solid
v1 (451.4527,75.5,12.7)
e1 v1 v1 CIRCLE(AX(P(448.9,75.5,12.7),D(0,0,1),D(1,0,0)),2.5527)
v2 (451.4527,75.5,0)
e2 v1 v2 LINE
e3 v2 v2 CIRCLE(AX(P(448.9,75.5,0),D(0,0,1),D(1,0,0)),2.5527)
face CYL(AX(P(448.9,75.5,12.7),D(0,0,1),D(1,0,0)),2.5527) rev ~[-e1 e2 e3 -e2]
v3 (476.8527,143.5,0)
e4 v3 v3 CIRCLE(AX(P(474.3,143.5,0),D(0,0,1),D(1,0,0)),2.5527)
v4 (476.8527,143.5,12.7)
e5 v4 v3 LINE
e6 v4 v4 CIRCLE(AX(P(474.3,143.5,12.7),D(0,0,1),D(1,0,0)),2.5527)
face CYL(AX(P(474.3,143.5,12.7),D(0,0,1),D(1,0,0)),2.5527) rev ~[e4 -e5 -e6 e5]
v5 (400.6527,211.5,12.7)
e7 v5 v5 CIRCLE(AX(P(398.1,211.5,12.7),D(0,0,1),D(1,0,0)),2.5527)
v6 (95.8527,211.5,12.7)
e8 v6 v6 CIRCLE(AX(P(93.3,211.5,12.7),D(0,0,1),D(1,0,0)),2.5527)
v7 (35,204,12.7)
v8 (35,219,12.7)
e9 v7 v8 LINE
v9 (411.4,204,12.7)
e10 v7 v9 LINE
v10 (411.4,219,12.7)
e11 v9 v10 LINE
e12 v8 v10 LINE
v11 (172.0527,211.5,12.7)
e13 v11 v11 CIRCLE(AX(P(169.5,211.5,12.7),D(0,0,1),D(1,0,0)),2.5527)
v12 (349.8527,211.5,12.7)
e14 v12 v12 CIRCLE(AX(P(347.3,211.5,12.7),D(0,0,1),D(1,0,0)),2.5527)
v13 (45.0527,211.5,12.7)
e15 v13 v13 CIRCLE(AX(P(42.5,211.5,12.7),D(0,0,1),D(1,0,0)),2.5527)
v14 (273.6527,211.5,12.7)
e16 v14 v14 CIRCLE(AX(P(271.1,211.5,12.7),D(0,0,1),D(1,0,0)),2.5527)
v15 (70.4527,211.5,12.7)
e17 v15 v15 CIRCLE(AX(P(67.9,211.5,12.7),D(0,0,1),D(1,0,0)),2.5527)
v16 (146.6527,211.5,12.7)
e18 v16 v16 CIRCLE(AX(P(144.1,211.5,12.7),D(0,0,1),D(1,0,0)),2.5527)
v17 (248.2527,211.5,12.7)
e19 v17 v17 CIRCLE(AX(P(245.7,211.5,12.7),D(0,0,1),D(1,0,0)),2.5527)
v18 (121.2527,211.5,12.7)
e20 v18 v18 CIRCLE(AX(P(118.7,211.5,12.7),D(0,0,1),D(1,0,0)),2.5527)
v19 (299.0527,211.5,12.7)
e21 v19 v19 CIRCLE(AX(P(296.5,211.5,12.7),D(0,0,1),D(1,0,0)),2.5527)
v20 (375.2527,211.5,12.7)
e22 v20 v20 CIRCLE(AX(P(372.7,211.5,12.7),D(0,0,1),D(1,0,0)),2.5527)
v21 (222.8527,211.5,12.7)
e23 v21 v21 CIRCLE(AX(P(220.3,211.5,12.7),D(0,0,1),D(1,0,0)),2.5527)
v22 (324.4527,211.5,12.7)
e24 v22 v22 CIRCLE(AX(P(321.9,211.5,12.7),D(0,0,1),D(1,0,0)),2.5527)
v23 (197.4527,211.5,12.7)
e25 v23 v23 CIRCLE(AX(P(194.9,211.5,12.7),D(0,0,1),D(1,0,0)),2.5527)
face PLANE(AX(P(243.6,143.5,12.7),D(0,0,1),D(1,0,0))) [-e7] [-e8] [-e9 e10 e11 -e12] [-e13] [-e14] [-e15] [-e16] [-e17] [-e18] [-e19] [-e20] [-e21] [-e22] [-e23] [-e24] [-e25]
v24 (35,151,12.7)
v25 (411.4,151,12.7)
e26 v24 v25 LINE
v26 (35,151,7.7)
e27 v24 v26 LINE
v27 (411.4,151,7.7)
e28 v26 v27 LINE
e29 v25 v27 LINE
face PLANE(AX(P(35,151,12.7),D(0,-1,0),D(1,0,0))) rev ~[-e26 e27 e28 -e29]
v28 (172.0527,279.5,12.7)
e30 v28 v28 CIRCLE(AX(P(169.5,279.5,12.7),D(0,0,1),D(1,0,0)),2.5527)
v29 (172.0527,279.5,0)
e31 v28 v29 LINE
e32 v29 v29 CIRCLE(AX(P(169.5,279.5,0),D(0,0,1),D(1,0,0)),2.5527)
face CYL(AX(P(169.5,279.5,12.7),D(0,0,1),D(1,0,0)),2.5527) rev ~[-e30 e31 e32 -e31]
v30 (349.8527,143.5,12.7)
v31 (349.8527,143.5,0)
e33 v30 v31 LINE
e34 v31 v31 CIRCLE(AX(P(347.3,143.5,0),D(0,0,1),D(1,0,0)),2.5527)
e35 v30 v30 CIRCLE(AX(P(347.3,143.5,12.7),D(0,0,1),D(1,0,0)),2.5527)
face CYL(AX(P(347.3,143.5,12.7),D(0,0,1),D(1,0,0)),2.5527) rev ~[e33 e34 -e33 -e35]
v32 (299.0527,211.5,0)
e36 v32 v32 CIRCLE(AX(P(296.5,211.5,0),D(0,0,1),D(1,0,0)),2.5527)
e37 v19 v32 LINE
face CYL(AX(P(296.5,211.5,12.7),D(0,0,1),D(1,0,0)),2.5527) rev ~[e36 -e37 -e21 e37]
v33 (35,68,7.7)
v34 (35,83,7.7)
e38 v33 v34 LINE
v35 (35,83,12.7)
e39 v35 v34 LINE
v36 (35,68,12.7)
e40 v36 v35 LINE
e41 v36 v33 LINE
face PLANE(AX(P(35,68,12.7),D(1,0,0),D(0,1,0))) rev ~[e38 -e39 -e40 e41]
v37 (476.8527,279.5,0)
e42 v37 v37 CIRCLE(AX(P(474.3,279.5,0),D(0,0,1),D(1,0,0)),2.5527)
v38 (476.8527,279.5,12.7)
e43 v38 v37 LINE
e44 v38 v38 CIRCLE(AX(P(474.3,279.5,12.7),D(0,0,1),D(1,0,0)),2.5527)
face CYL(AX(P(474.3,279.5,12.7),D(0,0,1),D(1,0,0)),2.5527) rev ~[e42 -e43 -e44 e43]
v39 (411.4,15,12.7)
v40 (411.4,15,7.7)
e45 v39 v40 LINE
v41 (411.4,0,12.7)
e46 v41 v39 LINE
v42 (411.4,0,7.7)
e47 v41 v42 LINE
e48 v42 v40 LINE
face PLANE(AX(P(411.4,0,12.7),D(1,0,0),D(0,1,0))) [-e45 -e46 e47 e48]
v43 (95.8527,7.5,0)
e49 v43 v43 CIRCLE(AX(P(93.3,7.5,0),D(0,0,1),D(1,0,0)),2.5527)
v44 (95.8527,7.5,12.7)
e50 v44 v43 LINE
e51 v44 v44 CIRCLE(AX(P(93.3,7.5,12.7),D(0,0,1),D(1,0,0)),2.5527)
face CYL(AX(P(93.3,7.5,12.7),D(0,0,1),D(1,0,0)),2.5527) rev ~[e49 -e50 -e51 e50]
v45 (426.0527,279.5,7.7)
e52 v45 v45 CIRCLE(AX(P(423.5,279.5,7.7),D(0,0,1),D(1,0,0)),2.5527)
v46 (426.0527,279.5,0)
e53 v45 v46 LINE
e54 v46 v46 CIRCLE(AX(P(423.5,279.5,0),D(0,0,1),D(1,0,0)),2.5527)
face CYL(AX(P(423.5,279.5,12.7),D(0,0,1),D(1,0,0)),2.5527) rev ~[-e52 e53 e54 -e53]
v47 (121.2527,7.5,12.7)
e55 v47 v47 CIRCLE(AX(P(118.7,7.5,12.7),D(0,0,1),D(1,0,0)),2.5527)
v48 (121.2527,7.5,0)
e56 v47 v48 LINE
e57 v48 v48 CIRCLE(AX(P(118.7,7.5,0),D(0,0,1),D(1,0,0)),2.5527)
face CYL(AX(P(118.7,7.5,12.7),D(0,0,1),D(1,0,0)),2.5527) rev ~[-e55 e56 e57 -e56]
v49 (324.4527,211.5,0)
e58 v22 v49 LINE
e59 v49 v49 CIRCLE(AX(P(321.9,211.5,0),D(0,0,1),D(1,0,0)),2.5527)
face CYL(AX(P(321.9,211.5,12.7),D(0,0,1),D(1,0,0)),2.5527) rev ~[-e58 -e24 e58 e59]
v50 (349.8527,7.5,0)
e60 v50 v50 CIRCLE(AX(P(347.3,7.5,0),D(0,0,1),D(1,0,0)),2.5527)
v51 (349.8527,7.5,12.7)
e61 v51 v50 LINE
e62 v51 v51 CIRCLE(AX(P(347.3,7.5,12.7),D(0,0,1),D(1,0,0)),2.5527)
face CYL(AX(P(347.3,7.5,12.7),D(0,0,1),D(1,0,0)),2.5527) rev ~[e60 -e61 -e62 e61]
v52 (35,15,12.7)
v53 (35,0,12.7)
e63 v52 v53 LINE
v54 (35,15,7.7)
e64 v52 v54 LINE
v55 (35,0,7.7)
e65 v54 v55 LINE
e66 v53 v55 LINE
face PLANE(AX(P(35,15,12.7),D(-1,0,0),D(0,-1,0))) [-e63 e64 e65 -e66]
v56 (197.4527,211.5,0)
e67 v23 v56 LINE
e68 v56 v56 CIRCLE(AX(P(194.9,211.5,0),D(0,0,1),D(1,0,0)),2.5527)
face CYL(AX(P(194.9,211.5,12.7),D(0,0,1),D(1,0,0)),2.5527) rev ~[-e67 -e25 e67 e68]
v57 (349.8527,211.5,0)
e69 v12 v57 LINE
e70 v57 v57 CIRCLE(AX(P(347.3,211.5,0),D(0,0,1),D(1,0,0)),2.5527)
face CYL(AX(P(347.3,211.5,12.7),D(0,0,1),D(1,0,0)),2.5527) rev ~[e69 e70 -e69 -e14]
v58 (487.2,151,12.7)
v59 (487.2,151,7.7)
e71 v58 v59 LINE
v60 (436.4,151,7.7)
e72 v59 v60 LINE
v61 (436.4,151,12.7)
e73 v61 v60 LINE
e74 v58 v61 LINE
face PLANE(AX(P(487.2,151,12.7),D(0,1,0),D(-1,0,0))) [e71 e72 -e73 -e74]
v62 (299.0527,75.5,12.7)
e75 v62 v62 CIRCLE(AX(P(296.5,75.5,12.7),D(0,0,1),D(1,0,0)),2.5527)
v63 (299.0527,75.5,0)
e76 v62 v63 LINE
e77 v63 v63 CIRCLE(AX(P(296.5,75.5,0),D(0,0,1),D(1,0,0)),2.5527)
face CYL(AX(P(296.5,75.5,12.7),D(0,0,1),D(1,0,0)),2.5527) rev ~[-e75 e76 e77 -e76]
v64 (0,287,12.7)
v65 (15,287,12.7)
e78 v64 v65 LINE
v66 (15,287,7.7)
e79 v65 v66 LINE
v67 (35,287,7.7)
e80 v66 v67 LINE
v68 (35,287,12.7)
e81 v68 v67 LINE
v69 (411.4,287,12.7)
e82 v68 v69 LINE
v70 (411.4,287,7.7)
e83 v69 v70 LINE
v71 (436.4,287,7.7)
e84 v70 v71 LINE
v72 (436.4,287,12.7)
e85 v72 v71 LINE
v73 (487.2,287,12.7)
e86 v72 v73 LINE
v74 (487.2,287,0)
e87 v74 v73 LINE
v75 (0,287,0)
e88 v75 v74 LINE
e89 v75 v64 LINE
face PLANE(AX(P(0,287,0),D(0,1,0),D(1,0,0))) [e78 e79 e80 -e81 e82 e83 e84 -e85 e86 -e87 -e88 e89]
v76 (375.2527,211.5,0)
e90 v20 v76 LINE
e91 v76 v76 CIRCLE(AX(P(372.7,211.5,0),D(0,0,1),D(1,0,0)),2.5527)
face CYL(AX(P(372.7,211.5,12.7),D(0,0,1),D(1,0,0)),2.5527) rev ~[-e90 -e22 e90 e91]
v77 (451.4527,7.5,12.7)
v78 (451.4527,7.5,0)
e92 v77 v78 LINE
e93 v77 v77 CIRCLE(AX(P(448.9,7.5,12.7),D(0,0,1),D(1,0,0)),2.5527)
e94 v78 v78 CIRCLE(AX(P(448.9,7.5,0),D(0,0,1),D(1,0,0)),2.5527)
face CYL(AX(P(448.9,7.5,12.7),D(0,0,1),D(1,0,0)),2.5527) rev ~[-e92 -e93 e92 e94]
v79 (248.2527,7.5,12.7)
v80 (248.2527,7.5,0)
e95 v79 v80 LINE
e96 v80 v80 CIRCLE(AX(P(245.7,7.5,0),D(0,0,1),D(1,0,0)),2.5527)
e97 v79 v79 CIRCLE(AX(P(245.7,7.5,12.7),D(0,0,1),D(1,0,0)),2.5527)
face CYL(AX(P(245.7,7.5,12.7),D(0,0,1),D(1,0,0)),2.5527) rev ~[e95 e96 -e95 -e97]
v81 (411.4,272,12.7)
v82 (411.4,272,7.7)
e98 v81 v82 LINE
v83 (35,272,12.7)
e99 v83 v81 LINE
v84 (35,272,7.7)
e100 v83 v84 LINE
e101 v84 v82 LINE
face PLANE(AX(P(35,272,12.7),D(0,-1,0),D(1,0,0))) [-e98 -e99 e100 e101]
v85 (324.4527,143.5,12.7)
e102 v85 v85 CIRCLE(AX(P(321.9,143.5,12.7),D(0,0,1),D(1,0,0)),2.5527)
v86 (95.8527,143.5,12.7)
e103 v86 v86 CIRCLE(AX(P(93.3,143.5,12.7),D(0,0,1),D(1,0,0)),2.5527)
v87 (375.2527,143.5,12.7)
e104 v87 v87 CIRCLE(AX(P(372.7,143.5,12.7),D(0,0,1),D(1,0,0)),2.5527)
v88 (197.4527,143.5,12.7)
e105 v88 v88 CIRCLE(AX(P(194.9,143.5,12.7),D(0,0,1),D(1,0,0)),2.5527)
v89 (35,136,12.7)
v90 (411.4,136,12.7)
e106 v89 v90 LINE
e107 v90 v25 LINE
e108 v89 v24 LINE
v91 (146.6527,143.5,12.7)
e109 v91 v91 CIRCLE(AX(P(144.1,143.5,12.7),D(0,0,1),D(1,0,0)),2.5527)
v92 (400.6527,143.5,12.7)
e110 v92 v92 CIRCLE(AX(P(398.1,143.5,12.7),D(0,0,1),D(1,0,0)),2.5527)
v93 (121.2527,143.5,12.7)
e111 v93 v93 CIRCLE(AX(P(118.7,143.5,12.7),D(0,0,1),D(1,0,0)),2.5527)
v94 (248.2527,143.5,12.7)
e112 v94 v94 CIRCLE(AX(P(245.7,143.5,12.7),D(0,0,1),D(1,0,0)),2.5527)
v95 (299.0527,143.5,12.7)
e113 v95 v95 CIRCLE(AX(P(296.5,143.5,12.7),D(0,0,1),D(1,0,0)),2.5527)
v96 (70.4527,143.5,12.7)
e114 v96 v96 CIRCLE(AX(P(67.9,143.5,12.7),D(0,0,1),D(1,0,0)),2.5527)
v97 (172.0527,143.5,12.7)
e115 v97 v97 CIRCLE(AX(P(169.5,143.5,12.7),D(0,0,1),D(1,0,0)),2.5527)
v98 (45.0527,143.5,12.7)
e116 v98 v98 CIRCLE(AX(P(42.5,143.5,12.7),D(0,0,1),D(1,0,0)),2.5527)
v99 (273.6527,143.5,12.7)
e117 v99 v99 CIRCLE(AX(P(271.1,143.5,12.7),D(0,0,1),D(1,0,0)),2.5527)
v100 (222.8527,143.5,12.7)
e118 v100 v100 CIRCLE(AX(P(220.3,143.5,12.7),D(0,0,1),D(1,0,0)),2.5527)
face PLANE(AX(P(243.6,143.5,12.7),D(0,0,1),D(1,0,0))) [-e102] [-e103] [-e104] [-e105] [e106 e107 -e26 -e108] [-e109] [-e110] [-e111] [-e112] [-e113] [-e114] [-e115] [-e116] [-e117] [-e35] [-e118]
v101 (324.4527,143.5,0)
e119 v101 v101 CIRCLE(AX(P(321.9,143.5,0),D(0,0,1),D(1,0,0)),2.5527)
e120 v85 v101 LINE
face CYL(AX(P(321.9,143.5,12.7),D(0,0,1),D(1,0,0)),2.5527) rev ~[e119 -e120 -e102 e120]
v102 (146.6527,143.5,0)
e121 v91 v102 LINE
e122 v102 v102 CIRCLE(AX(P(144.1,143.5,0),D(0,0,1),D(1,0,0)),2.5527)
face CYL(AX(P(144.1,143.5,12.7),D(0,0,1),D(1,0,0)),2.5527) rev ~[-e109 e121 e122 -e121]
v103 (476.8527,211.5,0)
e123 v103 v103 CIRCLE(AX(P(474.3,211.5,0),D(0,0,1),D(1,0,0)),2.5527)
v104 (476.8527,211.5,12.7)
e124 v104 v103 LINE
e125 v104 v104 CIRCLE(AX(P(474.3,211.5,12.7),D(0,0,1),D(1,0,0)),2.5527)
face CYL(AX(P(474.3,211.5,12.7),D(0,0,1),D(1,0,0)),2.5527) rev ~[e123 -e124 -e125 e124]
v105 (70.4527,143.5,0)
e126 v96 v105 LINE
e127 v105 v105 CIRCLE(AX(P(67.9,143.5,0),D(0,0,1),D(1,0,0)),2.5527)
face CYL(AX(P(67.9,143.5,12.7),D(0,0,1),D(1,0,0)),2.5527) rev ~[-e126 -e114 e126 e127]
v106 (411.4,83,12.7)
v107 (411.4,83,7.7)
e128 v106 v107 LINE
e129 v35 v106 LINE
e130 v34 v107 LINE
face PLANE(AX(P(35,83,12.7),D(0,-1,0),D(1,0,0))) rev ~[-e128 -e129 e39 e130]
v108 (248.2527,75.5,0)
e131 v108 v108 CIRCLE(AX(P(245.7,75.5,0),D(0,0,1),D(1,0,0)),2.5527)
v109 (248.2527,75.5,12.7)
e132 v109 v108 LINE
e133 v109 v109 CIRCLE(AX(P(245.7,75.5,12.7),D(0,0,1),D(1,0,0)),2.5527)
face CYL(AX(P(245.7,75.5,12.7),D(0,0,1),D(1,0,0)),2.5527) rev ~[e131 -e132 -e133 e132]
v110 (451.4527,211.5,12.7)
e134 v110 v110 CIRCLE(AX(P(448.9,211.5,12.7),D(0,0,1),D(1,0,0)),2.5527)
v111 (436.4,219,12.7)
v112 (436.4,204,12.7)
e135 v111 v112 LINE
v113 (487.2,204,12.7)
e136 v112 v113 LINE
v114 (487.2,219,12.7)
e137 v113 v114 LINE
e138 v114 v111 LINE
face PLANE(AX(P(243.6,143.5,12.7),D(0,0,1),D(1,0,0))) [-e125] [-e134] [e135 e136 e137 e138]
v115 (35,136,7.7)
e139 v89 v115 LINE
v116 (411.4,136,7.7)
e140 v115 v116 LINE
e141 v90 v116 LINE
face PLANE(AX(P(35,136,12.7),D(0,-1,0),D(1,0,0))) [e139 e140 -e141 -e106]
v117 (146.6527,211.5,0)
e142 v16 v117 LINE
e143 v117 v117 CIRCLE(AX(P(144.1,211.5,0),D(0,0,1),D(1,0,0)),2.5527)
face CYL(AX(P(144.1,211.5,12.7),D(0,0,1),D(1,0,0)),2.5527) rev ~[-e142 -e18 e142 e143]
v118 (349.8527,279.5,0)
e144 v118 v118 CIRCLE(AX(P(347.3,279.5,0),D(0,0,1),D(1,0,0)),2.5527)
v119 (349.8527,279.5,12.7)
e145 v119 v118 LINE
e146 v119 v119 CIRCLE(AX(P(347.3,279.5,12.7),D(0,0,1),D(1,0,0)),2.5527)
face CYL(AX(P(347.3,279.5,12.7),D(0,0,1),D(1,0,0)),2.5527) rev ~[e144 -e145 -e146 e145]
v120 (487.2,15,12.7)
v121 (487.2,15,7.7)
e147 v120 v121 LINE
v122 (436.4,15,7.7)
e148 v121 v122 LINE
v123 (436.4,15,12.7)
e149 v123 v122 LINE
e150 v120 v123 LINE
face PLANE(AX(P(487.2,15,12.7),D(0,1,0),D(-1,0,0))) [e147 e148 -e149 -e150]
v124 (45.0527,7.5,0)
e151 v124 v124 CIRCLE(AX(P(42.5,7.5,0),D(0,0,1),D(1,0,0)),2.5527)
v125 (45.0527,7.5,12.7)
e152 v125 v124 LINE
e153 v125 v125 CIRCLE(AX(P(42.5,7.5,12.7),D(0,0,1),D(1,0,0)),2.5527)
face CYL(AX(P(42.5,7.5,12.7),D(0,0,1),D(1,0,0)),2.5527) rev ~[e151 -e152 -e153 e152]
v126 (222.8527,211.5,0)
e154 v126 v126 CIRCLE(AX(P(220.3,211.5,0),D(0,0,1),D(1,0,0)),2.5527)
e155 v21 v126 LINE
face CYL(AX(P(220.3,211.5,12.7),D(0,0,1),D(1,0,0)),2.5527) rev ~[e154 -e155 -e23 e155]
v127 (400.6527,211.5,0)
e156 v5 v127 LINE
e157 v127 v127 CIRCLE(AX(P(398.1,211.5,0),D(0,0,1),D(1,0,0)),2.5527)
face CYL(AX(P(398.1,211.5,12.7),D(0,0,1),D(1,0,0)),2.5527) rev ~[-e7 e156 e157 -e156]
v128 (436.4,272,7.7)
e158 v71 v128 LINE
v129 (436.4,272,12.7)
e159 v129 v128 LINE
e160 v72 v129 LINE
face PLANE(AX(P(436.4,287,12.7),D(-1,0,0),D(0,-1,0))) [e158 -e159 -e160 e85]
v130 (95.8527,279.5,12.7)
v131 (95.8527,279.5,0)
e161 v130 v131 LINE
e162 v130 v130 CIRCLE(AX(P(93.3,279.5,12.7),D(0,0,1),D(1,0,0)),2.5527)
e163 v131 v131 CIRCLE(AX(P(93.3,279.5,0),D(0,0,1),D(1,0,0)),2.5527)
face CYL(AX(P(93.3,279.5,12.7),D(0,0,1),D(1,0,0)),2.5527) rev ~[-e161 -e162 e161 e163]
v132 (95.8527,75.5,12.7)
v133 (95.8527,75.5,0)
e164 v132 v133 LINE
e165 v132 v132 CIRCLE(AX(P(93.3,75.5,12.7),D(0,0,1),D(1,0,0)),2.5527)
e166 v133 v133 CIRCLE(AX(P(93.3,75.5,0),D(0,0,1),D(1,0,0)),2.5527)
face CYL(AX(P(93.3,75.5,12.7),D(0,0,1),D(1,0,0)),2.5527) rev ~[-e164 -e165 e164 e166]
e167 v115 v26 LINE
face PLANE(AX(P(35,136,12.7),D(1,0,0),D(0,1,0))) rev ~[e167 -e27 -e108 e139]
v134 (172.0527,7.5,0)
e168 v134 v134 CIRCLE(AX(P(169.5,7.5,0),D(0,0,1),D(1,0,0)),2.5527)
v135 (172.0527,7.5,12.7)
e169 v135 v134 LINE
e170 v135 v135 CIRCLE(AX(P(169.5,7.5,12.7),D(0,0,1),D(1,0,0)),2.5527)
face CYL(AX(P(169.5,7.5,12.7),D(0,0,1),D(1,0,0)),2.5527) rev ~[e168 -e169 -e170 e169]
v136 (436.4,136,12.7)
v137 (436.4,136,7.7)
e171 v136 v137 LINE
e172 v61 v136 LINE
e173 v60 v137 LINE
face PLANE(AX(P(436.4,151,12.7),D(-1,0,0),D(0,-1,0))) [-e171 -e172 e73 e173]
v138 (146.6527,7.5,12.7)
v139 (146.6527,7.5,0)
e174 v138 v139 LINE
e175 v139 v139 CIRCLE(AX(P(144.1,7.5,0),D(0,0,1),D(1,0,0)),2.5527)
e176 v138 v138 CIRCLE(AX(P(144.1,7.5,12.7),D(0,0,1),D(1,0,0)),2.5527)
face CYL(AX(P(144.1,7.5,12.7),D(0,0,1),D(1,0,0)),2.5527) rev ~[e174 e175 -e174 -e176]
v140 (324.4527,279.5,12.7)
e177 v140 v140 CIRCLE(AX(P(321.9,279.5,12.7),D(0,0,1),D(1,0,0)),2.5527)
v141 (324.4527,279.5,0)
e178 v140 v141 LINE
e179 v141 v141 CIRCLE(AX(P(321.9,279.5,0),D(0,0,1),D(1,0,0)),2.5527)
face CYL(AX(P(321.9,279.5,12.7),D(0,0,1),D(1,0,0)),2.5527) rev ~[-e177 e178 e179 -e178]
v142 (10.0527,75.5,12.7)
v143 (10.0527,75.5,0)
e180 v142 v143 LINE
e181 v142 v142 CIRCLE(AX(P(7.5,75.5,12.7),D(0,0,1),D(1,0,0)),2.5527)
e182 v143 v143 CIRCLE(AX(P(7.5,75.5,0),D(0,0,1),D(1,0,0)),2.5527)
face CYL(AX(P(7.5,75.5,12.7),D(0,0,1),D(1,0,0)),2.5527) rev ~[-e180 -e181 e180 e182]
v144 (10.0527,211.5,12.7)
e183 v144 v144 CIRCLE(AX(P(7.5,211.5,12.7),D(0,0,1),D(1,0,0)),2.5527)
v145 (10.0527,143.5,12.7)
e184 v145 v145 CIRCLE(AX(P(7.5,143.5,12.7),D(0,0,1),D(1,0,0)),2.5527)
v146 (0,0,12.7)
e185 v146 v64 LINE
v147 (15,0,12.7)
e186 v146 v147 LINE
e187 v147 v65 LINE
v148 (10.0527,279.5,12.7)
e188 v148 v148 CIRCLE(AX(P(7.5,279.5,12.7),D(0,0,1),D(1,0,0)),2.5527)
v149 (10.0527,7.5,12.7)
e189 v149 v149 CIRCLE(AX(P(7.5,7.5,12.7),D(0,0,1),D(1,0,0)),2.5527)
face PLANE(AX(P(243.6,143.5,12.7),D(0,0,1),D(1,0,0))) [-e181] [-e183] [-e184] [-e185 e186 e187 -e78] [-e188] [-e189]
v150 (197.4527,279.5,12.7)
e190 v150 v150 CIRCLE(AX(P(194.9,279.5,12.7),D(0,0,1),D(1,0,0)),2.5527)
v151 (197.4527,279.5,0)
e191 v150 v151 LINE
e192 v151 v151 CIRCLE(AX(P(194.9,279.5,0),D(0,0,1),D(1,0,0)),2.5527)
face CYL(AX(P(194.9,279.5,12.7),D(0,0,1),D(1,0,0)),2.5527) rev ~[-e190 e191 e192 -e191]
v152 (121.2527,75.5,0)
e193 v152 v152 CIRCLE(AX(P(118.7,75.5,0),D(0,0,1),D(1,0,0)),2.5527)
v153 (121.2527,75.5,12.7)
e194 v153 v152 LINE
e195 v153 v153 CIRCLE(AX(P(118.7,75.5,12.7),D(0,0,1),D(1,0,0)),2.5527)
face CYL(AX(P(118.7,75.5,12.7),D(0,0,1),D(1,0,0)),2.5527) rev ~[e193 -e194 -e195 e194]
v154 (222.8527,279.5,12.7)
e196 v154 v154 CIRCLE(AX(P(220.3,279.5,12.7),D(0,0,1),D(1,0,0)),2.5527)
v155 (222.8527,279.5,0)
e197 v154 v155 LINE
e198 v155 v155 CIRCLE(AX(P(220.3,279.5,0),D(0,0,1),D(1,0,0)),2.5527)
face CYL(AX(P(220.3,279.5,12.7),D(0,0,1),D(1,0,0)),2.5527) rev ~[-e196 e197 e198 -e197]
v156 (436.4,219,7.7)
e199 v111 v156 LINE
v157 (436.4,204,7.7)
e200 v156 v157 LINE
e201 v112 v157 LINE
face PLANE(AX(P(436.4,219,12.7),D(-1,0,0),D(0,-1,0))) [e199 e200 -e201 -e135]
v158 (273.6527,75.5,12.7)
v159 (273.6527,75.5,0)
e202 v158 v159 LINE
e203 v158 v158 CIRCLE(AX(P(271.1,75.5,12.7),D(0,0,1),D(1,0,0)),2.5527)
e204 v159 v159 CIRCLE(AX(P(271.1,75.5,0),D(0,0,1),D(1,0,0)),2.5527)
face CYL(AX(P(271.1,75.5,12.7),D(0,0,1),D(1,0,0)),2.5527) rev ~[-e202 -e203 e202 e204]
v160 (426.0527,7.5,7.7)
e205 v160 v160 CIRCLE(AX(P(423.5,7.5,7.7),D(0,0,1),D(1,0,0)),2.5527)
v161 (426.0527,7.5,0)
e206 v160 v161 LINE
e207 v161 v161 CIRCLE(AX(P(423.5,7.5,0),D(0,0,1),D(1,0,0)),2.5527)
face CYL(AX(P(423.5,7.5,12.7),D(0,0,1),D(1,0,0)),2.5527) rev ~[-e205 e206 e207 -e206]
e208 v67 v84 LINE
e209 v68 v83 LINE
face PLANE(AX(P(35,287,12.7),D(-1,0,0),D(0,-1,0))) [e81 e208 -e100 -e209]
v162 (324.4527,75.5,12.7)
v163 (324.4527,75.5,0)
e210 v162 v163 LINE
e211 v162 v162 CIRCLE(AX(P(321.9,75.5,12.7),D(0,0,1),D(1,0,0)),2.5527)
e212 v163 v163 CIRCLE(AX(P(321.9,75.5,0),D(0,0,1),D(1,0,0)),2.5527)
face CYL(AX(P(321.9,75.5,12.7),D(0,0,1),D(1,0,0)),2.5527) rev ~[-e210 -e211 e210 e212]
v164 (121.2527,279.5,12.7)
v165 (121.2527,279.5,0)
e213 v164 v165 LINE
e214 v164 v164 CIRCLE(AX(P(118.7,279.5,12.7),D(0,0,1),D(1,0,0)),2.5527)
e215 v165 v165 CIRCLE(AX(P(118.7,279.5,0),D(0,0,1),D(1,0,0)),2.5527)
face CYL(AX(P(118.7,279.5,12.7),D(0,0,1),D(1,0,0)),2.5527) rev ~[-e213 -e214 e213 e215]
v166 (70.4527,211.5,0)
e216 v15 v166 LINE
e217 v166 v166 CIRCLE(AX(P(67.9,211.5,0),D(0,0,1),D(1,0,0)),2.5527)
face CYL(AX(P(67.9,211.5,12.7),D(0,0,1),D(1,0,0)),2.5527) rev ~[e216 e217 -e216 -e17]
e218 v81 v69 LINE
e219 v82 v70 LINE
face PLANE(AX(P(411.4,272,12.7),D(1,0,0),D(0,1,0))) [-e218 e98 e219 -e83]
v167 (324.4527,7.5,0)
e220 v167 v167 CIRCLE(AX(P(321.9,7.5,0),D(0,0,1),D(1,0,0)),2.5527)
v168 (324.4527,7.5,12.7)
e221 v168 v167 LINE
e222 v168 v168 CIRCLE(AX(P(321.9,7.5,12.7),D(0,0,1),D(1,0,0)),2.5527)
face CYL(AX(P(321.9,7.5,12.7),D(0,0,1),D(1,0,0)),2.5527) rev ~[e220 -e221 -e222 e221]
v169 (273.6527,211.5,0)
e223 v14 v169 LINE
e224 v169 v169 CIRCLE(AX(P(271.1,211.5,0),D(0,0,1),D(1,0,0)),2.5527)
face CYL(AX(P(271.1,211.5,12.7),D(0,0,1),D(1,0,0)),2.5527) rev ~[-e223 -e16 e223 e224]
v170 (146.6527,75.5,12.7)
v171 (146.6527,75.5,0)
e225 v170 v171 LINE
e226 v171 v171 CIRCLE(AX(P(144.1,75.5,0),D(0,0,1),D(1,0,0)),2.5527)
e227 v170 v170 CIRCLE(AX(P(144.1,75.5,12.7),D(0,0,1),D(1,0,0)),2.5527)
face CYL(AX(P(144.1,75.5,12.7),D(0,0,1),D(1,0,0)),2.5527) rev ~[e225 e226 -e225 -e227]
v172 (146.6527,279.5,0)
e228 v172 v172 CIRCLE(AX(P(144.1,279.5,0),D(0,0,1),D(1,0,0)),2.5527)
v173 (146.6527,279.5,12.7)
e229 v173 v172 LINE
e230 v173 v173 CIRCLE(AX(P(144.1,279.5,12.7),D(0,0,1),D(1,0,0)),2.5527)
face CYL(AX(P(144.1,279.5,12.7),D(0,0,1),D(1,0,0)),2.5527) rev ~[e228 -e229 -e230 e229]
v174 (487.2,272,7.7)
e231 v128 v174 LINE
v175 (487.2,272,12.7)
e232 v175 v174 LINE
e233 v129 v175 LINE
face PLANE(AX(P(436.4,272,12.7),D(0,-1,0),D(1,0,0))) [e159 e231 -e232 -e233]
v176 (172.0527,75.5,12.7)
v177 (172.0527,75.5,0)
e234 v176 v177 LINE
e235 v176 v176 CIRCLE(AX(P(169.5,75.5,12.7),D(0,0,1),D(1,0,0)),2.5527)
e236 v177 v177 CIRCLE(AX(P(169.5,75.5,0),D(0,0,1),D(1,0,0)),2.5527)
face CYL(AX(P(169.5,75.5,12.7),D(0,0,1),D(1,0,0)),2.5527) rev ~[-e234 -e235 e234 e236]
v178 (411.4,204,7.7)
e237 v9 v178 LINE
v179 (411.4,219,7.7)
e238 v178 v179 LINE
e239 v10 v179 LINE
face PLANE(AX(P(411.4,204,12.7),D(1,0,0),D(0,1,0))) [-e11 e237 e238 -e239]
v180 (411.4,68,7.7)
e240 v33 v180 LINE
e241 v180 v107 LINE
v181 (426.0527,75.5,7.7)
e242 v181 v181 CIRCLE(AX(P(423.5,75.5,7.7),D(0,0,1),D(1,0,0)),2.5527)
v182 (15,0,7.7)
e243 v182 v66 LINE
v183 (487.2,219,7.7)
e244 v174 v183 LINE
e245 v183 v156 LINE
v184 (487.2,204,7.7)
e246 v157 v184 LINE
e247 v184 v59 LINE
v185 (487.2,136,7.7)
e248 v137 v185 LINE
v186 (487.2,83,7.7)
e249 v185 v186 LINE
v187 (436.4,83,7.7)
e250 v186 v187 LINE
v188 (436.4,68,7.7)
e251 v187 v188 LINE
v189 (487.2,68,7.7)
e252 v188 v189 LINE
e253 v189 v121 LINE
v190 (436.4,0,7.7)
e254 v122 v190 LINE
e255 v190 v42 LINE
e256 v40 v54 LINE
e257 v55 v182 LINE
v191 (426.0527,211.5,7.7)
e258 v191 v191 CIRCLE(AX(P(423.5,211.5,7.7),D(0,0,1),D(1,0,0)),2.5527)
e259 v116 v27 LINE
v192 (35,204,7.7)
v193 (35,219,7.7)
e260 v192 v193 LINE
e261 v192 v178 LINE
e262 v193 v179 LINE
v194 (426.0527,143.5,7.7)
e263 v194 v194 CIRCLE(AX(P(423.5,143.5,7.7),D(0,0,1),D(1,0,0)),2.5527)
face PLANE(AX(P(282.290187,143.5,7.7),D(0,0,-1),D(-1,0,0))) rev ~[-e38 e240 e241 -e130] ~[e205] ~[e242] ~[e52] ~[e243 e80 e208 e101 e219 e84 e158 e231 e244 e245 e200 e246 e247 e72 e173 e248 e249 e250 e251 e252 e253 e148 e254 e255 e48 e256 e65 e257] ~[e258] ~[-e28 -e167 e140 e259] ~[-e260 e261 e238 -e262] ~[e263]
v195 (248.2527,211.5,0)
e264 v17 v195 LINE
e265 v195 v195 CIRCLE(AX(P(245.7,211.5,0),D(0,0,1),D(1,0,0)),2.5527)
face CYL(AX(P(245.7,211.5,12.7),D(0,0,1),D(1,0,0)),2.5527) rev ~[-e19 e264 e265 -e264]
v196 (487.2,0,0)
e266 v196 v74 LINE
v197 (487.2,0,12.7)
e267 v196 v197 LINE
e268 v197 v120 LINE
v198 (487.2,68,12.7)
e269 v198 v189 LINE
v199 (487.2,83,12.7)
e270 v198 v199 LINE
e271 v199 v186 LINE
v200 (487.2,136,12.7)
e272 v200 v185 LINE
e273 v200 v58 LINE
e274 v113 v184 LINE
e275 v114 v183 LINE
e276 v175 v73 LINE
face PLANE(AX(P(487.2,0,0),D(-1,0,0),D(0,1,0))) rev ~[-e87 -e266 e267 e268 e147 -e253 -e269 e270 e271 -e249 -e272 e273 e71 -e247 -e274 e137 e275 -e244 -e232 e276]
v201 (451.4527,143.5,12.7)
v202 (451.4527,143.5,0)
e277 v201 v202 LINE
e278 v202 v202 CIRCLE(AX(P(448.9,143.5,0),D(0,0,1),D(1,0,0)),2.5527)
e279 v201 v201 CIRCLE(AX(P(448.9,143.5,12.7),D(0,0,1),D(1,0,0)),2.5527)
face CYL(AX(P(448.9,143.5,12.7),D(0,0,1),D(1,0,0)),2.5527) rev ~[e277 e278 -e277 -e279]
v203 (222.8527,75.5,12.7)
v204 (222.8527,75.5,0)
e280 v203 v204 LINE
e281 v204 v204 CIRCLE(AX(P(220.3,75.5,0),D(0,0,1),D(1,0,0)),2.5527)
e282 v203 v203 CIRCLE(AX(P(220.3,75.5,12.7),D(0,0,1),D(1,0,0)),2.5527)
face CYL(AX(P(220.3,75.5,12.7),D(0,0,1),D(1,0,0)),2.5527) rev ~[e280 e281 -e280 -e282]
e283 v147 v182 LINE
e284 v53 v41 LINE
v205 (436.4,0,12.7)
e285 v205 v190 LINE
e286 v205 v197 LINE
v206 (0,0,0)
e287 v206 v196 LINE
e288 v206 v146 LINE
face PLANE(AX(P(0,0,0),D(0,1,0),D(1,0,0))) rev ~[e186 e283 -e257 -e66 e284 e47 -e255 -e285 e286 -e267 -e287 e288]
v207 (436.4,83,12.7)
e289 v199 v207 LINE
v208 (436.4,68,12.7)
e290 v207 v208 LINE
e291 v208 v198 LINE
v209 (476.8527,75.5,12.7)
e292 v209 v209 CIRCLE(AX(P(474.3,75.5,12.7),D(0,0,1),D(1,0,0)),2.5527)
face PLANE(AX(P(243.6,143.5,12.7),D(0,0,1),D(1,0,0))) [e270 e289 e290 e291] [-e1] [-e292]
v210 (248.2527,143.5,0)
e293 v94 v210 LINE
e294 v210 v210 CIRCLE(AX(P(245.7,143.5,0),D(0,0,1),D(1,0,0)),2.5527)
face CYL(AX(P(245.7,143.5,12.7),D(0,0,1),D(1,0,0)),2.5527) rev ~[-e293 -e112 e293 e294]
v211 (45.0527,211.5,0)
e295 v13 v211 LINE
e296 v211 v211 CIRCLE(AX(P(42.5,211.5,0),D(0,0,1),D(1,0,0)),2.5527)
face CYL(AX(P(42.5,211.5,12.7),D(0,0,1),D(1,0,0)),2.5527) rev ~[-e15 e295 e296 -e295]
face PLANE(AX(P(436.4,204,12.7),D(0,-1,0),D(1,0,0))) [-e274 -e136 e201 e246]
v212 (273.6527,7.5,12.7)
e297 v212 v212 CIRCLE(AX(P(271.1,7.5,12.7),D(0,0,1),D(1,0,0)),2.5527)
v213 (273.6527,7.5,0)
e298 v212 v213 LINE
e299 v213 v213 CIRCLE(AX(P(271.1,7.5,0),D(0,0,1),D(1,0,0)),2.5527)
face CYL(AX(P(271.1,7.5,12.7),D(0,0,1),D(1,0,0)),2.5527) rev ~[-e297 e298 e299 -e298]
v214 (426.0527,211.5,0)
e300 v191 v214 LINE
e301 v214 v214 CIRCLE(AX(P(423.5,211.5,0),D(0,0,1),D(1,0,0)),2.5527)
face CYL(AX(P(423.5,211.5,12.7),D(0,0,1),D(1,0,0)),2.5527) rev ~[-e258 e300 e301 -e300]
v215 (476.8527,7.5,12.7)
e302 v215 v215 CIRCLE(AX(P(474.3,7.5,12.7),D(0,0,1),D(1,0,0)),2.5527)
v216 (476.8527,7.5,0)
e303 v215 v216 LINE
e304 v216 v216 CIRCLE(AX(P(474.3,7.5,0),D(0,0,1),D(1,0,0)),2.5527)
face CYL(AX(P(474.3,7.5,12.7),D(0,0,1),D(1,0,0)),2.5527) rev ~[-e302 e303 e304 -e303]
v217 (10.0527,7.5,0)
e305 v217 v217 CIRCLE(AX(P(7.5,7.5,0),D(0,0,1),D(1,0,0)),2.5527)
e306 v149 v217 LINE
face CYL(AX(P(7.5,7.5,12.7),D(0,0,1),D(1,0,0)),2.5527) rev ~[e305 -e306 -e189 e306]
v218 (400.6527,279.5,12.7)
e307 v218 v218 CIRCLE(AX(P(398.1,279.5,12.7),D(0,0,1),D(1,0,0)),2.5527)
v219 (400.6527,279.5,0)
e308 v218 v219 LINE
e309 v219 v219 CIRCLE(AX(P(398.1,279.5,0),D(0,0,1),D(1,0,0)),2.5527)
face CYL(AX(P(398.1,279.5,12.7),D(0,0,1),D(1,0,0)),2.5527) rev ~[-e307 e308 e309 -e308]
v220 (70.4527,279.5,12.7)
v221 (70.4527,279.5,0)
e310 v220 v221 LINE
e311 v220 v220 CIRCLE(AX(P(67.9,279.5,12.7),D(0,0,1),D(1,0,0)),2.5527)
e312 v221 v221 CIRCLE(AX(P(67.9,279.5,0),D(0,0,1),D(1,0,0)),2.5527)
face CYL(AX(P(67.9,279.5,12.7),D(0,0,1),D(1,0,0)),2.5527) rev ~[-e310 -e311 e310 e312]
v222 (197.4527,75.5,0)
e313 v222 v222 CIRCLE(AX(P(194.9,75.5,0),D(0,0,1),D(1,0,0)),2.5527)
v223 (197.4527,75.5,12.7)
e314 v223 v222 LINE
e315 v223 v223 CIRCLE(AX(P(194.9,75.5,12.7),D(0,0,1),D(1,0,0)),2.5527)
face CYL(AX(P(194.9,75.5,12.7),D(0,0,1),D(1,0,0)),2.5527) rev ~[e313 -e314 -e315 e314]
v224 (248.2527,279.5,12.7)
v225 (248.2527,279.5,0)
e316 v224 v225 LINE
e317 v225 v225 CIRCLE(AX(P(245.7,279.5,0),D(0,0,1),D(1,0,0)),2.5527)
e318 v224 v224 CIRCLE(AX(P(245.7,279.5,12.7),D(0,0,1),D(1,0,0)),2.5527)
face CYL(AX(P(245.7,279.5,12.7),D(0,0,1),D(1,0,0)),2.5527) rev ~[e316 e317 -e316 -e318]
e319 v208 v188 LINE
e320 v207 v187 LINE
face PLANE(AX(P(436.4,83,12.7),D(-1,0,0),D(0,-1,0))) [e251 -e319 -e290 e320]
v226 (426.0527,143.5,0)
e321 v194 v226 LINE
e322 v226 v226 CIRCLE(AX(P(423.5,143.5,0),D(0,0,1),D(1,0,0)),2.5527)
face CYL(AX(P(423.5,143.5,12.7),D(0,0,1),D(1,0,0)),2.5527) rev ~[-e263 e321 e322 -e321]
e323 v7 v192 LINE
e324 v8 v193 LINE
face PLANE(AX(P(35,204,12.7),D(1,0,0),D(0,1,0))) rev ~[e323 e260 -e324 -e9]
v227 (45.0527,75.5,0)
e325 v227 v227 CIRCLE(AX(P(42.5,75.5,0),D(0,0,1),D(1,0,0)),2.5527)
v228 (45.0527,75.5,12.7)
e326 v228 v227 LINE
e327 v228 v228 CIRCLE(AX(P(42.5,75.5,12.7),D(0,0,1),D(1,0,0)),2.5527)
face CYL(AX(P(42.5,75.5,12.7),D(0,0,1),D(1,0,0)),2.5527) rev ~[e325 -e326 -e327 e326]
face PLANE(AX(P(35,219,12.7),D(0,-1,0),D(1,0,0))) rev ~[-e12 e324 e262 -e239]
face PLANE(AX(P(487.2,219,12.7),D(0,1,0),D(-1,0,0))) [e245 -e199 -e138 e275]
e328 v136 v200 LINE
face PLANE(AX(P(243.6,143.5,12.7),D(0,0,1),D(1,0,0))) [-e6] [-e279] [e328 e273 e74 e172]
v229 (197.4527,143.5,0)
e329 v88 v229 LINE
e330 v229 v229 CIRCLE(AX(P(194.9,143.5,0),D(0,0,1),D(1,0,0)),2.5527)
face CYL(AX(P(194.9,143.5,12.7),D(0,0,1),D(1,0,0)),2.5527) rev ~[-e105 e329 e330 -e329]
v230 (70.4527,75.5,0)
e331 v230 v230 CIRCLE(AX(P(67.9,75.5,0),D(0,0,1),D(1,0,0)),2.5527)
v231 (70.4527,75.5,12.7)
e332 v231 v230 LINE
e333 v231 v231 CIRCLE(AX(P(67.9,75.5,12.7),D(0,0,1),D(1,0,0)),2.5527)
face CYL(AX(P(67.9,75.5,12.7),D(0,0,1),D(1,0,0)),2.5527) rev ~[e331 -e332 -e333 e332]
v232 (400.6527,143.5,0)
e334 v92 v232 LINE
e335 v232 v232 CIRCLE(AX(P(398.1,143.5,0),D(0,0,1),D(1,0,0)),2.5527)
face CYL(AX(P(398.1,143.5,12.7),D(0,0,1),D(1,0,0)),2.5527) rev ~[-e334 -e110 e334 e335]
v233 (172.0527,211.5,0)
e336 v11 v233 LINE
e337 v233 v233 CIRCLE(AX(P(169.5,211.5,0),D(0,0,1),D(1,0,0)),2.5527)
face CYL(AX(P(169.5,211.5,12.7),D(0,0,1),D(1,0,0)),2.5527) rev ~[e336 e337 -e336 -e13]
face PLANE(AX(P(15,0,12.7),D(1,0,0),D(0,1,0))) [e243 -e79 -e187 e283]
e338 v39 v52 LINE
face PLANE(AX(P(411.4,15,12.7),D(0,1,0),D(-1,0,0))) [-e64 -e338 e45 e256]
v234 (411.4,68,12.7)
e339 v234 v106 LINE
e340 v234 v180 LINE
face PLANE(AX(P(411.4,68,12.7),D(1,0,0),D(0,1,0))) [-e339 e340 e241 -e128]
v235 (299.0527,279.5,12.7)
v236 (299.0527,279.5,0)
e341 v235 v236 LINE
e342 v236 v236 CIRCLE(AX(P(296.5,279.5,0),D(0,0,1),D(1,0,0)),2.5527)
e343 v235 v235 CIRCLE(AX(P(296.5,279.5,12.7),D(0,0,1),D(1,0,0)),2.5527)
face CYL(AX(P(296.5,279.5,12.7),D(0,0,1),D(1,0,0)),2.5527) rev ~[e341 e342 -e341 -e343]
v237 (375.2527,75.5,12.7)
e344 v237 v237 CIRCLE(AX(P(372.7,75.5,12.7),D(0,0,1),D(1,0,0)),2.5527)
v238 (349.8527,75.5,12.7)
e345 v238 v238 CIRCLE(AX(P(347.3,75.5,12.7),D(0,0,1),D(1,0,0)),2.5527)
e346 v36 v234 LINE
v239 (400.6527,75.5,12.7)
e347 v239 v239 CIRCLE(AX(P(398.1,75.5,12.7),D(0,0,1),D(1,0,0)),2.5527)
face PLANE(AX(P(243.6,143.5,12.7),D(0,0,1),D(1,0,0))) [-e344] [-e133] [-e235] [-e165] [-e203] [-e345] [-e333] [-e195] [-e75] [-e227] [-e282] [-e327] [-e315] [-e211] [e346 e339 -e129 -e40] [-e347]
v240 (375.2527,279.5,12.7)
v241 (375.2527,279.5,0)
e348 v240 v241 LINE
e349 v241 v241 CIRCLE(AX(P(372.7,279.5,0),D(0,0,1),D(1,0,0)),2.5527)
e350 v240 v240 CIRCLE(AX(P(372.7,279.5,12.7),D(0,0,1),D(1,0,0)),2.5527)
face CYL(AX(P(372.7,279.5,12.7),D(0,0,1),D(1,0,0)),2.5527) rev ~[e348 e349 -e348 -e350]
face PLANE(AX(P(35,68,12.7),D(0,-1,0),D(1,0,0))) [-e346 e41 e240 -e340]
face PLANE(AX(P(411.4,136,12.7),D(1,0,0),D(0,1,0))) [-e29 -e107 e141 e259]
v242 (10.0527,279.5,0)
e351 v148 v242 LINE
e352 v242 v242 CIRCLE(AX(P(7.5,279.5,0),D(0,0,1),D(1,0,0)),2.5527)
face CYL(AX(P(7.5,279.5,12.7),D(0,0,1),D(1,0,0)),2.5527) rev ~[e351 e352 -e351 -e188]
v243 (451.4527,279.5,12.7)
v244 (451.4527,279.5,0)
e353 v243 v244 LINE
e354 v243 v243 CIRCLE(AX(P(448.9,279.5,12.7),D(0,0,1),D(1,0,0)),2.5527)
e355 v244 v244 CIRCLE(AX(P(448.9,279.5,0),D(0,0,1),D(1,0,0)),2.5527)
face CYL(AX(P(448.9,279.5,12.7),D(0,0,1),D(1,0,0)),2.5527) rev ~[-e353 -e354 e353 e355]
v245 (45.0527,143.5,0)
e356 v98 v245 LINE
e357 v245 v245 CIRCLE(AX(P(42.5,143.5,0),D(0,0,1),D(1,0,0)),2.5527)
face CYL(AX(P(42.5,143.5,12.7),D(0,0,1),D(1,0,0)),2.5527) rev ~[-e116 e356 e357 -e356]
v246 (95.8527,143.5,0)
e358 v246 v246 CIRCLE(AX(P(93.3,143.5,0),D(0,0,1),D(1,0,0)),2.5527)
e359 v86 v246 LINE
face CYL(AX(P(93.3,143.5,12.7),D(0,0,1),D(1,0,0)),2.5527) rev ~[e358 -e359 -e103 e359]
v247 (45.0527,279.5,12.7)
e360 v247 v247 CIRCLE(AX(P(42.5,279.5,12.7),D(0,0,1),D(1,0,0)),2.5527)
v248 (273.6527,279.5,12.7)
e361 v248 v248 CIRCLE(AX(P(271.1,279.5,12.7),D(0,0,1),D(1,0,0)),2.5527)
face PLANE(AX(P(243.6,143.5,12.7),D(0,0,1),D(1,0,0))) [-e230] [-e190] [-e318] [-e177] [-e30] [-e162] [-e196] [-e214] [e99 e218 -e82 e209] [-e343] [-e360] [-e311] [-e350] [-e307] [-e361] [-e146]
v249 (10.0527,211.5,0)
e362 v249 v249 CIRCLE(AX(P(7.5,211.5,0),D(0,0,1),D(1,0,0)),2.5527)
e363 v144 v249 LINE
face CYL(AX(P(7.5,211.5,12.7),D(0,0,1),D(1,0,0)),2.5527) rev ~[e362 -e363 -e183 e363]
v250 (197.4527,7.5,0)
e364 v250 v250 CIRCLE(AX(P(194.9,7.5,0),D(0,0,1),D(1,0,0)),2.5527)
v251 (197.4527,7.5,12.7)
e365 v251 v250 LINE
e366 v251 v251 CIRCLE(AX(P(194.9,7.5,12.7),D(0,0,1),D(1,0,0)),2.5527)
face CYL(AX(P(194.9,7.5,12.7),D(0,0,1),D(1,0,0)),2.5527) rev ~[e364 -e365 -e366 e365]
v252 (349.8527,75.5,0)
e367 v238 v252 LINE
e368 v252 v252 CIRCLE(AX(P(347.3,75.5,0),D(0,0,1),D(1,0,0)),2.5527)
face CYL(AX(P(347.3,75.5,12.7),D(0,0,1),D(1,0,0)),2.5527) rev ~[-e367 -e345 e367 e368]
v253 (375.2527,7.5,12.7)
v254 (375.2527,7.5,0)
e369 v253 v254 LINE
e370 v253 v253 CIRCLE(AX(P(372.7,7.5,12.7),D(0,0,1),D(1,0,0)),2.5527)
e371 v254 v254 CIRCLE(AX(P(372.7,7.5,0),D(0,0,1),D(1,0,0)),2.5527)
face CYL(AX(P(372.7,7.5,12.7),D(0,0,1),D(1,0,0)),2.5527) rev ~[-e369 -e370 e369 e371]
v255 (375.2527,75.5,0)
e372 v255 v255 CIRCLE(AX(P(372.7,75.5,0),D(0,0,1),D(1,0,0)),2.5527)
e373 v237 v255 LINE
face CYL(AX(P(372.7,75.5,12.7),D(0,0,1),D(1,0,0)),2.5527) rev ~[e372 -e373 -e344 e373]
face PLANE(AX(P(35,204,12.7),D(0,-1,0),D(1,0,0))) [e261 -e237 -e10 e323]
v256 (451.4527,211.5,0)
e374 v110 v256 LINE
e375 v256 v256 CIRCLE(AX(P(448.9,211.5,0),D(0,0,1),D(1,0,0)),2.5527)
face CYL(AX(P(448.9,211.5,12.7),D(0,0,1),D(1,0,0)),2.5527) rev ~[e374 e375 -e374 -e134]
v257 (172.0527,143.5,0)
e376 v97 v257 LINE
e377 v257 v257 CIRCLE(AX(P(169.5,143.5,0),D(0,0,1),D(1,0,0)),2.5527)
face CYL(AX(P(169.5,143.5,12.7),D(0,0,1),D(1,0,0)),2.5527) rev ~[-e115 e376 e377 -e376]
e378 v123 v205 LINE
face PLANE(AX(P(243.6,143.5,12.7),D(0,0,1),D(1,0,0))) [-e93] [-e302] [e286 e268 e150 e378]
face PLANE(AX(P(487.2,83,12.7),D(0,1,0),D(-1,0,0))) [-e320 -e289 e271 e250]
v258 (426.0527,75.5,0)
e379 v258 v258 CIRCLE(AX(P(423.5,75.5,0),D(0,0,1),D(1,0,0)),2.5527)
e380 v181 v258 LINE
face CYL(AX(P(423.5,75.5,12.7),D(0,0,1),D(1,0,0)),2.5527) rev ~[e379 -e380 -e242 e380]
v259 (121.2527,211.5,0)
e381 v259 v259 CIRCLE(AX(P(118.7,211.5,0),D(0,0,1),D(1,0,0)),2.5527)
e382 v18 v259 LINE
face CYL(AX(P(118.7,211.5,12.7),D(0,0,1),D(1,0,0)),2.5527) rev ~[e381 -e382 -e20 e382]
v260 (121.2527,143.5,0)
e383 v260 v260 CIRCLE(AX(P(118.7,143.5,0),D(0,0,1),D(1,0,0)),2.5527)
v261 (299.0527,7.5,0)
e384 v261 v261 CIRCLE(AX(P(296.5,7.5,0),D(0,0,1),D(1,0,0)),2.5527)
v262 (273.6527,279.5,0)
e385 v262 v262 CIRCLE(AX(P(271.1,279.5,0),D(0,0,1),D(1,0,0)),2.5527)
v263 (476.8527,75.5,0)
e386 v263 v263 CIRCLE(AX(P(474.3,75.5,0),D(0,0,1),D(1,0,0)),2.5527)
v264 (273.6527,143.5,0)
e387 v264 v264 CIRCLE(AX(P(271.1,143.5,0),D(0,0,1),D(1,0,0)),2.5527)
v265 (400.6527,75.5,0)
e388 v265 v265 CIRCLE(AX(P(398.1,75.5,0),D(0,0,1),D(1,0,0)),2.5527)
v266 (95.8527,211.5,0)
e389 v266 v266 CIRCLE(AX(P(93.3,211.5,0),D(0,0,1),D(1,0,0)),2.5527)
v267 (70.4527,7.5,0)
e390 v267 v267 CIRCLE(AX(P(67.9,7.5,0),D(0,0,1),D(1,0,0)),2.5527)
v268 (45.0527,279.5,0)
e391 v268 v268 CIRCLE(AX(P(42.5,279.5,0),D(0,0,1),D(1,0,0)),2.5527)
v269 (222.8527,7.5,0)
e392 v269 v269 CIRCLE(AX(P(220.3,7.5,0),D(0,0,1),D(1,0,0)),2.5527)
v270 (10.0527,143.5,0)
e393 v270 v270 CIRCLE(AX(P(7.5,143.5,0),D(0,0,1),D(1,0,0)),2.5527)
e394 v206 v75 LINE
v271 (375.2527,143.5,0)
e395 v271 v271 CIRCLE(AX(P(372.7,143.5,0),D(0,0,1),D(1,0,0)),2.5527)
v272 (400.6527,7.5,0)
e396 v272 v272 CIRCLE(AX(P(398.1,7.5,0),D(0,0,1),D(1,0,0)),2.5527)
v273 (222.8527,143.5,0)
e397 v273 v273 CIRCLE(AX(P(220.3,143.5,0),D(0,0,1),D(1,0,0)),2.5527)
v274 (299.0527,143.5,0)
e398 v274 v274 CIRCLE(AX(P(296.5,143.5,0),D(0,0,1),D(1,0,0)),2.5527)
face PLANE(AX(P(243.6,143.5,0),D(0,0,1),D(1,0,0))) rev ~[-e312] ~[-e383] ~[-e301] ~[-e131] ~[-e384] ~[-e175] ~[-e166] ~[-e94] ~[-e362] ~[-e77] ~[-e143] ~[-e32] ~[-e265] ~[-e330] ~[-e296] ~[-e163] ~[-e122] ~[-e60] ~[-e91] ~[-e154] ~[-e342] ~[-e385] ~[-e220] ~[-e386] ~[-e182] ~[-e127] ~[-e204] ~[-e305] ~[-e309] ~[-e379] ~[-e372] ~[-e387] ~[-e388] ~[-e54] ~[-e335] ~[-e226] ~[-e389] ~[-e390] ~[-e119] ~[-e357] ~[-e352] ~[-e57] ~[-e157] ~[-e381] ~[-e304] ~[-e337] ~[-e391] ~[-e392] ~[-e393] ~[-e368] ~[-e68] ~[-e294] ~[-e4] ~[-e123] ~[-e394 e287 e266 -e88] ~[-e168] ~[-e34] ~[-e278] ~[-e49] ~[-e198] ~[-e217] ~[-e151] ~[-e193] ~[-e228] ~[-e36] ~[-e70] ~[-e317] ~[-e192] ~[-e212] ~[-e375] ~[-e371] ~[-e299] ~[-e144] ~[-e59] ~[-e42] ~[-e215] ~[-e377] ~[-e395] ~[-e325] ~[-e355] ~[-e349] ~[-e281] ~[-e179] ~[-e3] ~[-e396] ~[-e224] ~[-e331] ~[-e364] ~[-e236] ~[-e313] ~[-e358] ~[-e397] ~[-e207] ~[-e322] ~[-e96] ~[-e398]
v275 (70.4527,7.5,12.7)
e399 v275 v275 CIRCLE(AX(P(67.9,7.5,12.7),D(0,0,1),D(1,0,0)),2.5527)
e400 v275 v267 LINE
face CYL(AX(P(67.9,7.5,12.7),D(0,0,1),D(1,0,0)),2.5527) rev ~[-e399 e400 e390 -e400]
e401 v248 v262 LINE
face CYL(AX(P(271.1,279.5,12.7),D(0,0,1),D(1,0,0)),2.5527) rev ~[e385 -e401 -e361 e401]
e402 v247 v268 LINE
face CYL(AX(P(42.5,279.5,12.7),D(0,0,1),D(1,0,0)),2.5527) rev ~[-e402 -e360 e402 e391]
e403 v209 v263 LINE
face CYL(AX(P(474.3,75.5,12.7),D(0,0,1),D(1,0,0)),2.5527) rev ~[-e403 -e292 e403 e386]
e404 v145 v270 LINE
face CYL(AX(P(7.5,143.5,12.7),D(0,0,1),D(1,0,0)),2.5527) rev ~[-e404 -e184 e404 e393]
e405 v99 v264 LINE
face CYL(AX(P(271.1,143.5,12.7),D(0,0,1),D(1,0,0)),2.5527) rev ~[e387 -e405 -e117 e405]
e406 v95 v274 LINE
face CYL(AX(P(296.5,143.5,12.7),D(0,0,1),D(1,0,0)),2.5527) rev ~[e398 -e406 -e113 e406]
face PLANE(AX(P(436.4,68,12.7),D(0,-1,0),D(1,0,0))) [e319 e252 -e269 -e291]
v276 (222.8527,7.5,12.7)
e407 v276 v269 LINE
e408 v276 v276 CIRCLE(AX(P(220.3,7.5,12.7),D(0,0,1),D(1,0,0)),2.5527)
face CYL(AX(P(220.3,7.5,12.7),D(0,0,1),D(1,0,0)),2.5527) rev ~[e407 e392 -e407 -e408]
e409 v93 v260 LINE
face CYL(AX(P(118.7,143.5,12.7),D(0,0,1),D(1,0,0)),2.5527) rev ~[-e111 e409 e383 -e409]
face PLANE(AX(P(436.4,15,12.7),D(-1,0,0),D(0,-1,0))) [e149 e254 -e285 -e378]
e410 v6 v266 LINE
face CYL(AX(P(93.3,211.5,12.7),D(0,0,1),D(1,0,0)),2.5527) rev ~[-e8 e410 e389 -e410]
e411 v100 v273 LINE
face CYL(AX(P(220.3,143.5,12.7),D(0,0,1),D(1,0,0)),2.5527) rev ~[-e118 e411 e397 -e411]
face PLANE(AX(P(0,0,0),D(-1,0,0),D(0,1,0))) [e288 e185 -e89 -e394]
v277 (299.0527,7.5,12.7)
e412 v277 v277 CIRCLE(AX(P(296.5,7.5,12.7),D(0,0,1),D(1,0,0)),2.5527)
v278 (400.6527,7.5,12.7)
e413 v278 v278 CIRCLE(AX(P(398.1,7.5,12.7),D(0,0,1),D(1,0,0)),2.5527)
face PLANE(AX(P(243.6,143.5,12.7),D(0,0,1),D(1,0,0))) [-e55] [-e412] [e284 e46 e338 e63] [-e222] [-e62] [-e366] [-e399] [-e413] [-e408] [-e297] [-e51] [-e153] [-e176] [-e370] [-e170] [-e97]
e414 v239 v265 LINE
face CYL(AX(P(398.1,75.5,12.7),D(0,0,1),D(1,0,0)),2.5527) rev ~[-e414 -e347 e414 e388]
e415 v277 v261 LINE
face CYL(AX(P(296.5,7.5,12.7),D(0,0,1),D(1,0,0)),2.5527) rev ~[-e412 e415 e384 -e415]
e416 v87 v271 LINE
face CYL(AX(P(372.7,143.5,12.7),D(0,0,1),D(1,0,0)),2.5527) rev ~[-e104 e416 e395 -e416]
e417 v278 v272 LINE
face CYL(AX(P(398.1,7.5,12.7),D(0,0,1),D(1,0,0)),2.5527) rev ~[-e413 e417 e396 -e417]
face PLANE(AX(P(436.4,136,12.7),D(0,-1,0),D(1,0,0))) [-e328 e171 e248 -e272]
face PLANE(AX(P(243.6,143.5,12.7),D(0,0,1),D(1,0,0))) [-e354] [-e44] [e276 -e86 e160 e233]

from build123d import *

# Parameters (mm, degrees)
SKETCH2_W          = 487.2
SKETCH2_H          = 287
EXTRUDE1_DEPTH     = 12.7
SKETCH3_W          = 376.4
SKETCH3_H          = 15
CUT_EXTRUDE1_DEPTH = 5
SKETCH4_R          = 2.5527
CUT_EXTRUDE2_DEPTH = 566.591840464
LPATTERN1_COUNT    = 18
LPATTERN1_PITCH    = 25.4
SKETCH6_R          = 2.5527
CUT_EXTRUDE3_DEPTH = 566.591840464


with BuildPart() as part:
    # Sketch2 → Extrude1 (new body)
    with BuildSketch(Plane.XY):
        with Locations((243.6, 143.5)):
            Rectangle(SKETCH2_W, SKETCH2_H)
    extrude(amount=EXTRUDE1_DEPTH)

    # Sketch3 → Cut-Extrude1 (cut)
    with BuildSketch(Plane.XY.offset(12.7)):
        Polygon((35, 272), (411.4, 272), (411.4, 287), (436.4, 287), (436.4, 272), (487.2, 272), (487.2, 219), (436.4, 219), (436.4, 204), (487.2, 204), (487.2, 151), (436.4, 151), (436.4, 136), (487.2, 136), (487.2, 83), (436.4, 83), (436.4, 68), (487.2, 68), (487.2, 15), (436.4, 15), (436.4, 0), (411.4, 0), (411.4, 15), (35, 15), (35, 0), (15, 0), (15, 287), (35, 287), align=None)
        with Locations((223.2, 211.5)):
            Rectangle(SKETCH3_W, SKETCH3_H, mode=Mode.SUBTRACT)
        with Locations((223.2, 143.5)):
            Rectangle(SKETCH3_W, SKETCH3_H, mode=Mode.SUBTRACT)
        with Locations((223.2, 75.5)):
            Rectangle(SKETCH3_W, SKETCH3_H, mode=Mode.SUBTRACT)
    extrude(amount=-CUT_EXTRUDE1_DEPTH, mode=Mode.SUBTRACT)

    # Sketch4 → Cut-Extrude2 (cut, through all)
    with BuildSketch(Plane.XY.offset(12.7)):
        with Locations((42.5, 279.5)):
            Circle(SKETCH4_R)
        with Locations((42.5, 211.5)):
            Circle(SKETCH4_R)
        with Locations((42.5, 143.5)):
            Circle(SKETCH4_R)
        with Locations((42.5, 75.5)):
            Circle(SKETCH4_R)
        with Locations((42.5, 7.5)):
            Circle(SKETCH4_R)
    cut_extrude2 = extrude(amount=-CUT_EXTRUDE2_DEPTH, mode=Mode.SUBTRACT)

    # LPattern1: Cut-Extrude2 ×18
    with Locations(*[(i * LPATTERN1_PITCH, 0, 0) for i in range(1, LPATTERN1_COUNT)]):
        add(cut_extrude2, mode=Mode.SUBTRACT)

    # Sketch6 → Cut-Extrude3 (cut, through all)
    with BuildSketch(Plane.XY.offset(12.7)):
        with Locations((7.5, 279.5)):
            Circle(SKETCH6_R)
        with Locations((7.5, 211.5)):
            Circle(SKETCH6_R)
        with Locations((7.5, 143.5)):
            Circle(SKETCH6_R)
        with Locations((7.5, 75.5)):
            Circle(SKETCH6_R)
        with Locations((7.5, 7.5)):
            Circle(SKETCH6_R)
    extrude(amount=-CUT_EXTRUDE3_DEPTH, mode=Mode.SUBTRACT)


solid = part.part
